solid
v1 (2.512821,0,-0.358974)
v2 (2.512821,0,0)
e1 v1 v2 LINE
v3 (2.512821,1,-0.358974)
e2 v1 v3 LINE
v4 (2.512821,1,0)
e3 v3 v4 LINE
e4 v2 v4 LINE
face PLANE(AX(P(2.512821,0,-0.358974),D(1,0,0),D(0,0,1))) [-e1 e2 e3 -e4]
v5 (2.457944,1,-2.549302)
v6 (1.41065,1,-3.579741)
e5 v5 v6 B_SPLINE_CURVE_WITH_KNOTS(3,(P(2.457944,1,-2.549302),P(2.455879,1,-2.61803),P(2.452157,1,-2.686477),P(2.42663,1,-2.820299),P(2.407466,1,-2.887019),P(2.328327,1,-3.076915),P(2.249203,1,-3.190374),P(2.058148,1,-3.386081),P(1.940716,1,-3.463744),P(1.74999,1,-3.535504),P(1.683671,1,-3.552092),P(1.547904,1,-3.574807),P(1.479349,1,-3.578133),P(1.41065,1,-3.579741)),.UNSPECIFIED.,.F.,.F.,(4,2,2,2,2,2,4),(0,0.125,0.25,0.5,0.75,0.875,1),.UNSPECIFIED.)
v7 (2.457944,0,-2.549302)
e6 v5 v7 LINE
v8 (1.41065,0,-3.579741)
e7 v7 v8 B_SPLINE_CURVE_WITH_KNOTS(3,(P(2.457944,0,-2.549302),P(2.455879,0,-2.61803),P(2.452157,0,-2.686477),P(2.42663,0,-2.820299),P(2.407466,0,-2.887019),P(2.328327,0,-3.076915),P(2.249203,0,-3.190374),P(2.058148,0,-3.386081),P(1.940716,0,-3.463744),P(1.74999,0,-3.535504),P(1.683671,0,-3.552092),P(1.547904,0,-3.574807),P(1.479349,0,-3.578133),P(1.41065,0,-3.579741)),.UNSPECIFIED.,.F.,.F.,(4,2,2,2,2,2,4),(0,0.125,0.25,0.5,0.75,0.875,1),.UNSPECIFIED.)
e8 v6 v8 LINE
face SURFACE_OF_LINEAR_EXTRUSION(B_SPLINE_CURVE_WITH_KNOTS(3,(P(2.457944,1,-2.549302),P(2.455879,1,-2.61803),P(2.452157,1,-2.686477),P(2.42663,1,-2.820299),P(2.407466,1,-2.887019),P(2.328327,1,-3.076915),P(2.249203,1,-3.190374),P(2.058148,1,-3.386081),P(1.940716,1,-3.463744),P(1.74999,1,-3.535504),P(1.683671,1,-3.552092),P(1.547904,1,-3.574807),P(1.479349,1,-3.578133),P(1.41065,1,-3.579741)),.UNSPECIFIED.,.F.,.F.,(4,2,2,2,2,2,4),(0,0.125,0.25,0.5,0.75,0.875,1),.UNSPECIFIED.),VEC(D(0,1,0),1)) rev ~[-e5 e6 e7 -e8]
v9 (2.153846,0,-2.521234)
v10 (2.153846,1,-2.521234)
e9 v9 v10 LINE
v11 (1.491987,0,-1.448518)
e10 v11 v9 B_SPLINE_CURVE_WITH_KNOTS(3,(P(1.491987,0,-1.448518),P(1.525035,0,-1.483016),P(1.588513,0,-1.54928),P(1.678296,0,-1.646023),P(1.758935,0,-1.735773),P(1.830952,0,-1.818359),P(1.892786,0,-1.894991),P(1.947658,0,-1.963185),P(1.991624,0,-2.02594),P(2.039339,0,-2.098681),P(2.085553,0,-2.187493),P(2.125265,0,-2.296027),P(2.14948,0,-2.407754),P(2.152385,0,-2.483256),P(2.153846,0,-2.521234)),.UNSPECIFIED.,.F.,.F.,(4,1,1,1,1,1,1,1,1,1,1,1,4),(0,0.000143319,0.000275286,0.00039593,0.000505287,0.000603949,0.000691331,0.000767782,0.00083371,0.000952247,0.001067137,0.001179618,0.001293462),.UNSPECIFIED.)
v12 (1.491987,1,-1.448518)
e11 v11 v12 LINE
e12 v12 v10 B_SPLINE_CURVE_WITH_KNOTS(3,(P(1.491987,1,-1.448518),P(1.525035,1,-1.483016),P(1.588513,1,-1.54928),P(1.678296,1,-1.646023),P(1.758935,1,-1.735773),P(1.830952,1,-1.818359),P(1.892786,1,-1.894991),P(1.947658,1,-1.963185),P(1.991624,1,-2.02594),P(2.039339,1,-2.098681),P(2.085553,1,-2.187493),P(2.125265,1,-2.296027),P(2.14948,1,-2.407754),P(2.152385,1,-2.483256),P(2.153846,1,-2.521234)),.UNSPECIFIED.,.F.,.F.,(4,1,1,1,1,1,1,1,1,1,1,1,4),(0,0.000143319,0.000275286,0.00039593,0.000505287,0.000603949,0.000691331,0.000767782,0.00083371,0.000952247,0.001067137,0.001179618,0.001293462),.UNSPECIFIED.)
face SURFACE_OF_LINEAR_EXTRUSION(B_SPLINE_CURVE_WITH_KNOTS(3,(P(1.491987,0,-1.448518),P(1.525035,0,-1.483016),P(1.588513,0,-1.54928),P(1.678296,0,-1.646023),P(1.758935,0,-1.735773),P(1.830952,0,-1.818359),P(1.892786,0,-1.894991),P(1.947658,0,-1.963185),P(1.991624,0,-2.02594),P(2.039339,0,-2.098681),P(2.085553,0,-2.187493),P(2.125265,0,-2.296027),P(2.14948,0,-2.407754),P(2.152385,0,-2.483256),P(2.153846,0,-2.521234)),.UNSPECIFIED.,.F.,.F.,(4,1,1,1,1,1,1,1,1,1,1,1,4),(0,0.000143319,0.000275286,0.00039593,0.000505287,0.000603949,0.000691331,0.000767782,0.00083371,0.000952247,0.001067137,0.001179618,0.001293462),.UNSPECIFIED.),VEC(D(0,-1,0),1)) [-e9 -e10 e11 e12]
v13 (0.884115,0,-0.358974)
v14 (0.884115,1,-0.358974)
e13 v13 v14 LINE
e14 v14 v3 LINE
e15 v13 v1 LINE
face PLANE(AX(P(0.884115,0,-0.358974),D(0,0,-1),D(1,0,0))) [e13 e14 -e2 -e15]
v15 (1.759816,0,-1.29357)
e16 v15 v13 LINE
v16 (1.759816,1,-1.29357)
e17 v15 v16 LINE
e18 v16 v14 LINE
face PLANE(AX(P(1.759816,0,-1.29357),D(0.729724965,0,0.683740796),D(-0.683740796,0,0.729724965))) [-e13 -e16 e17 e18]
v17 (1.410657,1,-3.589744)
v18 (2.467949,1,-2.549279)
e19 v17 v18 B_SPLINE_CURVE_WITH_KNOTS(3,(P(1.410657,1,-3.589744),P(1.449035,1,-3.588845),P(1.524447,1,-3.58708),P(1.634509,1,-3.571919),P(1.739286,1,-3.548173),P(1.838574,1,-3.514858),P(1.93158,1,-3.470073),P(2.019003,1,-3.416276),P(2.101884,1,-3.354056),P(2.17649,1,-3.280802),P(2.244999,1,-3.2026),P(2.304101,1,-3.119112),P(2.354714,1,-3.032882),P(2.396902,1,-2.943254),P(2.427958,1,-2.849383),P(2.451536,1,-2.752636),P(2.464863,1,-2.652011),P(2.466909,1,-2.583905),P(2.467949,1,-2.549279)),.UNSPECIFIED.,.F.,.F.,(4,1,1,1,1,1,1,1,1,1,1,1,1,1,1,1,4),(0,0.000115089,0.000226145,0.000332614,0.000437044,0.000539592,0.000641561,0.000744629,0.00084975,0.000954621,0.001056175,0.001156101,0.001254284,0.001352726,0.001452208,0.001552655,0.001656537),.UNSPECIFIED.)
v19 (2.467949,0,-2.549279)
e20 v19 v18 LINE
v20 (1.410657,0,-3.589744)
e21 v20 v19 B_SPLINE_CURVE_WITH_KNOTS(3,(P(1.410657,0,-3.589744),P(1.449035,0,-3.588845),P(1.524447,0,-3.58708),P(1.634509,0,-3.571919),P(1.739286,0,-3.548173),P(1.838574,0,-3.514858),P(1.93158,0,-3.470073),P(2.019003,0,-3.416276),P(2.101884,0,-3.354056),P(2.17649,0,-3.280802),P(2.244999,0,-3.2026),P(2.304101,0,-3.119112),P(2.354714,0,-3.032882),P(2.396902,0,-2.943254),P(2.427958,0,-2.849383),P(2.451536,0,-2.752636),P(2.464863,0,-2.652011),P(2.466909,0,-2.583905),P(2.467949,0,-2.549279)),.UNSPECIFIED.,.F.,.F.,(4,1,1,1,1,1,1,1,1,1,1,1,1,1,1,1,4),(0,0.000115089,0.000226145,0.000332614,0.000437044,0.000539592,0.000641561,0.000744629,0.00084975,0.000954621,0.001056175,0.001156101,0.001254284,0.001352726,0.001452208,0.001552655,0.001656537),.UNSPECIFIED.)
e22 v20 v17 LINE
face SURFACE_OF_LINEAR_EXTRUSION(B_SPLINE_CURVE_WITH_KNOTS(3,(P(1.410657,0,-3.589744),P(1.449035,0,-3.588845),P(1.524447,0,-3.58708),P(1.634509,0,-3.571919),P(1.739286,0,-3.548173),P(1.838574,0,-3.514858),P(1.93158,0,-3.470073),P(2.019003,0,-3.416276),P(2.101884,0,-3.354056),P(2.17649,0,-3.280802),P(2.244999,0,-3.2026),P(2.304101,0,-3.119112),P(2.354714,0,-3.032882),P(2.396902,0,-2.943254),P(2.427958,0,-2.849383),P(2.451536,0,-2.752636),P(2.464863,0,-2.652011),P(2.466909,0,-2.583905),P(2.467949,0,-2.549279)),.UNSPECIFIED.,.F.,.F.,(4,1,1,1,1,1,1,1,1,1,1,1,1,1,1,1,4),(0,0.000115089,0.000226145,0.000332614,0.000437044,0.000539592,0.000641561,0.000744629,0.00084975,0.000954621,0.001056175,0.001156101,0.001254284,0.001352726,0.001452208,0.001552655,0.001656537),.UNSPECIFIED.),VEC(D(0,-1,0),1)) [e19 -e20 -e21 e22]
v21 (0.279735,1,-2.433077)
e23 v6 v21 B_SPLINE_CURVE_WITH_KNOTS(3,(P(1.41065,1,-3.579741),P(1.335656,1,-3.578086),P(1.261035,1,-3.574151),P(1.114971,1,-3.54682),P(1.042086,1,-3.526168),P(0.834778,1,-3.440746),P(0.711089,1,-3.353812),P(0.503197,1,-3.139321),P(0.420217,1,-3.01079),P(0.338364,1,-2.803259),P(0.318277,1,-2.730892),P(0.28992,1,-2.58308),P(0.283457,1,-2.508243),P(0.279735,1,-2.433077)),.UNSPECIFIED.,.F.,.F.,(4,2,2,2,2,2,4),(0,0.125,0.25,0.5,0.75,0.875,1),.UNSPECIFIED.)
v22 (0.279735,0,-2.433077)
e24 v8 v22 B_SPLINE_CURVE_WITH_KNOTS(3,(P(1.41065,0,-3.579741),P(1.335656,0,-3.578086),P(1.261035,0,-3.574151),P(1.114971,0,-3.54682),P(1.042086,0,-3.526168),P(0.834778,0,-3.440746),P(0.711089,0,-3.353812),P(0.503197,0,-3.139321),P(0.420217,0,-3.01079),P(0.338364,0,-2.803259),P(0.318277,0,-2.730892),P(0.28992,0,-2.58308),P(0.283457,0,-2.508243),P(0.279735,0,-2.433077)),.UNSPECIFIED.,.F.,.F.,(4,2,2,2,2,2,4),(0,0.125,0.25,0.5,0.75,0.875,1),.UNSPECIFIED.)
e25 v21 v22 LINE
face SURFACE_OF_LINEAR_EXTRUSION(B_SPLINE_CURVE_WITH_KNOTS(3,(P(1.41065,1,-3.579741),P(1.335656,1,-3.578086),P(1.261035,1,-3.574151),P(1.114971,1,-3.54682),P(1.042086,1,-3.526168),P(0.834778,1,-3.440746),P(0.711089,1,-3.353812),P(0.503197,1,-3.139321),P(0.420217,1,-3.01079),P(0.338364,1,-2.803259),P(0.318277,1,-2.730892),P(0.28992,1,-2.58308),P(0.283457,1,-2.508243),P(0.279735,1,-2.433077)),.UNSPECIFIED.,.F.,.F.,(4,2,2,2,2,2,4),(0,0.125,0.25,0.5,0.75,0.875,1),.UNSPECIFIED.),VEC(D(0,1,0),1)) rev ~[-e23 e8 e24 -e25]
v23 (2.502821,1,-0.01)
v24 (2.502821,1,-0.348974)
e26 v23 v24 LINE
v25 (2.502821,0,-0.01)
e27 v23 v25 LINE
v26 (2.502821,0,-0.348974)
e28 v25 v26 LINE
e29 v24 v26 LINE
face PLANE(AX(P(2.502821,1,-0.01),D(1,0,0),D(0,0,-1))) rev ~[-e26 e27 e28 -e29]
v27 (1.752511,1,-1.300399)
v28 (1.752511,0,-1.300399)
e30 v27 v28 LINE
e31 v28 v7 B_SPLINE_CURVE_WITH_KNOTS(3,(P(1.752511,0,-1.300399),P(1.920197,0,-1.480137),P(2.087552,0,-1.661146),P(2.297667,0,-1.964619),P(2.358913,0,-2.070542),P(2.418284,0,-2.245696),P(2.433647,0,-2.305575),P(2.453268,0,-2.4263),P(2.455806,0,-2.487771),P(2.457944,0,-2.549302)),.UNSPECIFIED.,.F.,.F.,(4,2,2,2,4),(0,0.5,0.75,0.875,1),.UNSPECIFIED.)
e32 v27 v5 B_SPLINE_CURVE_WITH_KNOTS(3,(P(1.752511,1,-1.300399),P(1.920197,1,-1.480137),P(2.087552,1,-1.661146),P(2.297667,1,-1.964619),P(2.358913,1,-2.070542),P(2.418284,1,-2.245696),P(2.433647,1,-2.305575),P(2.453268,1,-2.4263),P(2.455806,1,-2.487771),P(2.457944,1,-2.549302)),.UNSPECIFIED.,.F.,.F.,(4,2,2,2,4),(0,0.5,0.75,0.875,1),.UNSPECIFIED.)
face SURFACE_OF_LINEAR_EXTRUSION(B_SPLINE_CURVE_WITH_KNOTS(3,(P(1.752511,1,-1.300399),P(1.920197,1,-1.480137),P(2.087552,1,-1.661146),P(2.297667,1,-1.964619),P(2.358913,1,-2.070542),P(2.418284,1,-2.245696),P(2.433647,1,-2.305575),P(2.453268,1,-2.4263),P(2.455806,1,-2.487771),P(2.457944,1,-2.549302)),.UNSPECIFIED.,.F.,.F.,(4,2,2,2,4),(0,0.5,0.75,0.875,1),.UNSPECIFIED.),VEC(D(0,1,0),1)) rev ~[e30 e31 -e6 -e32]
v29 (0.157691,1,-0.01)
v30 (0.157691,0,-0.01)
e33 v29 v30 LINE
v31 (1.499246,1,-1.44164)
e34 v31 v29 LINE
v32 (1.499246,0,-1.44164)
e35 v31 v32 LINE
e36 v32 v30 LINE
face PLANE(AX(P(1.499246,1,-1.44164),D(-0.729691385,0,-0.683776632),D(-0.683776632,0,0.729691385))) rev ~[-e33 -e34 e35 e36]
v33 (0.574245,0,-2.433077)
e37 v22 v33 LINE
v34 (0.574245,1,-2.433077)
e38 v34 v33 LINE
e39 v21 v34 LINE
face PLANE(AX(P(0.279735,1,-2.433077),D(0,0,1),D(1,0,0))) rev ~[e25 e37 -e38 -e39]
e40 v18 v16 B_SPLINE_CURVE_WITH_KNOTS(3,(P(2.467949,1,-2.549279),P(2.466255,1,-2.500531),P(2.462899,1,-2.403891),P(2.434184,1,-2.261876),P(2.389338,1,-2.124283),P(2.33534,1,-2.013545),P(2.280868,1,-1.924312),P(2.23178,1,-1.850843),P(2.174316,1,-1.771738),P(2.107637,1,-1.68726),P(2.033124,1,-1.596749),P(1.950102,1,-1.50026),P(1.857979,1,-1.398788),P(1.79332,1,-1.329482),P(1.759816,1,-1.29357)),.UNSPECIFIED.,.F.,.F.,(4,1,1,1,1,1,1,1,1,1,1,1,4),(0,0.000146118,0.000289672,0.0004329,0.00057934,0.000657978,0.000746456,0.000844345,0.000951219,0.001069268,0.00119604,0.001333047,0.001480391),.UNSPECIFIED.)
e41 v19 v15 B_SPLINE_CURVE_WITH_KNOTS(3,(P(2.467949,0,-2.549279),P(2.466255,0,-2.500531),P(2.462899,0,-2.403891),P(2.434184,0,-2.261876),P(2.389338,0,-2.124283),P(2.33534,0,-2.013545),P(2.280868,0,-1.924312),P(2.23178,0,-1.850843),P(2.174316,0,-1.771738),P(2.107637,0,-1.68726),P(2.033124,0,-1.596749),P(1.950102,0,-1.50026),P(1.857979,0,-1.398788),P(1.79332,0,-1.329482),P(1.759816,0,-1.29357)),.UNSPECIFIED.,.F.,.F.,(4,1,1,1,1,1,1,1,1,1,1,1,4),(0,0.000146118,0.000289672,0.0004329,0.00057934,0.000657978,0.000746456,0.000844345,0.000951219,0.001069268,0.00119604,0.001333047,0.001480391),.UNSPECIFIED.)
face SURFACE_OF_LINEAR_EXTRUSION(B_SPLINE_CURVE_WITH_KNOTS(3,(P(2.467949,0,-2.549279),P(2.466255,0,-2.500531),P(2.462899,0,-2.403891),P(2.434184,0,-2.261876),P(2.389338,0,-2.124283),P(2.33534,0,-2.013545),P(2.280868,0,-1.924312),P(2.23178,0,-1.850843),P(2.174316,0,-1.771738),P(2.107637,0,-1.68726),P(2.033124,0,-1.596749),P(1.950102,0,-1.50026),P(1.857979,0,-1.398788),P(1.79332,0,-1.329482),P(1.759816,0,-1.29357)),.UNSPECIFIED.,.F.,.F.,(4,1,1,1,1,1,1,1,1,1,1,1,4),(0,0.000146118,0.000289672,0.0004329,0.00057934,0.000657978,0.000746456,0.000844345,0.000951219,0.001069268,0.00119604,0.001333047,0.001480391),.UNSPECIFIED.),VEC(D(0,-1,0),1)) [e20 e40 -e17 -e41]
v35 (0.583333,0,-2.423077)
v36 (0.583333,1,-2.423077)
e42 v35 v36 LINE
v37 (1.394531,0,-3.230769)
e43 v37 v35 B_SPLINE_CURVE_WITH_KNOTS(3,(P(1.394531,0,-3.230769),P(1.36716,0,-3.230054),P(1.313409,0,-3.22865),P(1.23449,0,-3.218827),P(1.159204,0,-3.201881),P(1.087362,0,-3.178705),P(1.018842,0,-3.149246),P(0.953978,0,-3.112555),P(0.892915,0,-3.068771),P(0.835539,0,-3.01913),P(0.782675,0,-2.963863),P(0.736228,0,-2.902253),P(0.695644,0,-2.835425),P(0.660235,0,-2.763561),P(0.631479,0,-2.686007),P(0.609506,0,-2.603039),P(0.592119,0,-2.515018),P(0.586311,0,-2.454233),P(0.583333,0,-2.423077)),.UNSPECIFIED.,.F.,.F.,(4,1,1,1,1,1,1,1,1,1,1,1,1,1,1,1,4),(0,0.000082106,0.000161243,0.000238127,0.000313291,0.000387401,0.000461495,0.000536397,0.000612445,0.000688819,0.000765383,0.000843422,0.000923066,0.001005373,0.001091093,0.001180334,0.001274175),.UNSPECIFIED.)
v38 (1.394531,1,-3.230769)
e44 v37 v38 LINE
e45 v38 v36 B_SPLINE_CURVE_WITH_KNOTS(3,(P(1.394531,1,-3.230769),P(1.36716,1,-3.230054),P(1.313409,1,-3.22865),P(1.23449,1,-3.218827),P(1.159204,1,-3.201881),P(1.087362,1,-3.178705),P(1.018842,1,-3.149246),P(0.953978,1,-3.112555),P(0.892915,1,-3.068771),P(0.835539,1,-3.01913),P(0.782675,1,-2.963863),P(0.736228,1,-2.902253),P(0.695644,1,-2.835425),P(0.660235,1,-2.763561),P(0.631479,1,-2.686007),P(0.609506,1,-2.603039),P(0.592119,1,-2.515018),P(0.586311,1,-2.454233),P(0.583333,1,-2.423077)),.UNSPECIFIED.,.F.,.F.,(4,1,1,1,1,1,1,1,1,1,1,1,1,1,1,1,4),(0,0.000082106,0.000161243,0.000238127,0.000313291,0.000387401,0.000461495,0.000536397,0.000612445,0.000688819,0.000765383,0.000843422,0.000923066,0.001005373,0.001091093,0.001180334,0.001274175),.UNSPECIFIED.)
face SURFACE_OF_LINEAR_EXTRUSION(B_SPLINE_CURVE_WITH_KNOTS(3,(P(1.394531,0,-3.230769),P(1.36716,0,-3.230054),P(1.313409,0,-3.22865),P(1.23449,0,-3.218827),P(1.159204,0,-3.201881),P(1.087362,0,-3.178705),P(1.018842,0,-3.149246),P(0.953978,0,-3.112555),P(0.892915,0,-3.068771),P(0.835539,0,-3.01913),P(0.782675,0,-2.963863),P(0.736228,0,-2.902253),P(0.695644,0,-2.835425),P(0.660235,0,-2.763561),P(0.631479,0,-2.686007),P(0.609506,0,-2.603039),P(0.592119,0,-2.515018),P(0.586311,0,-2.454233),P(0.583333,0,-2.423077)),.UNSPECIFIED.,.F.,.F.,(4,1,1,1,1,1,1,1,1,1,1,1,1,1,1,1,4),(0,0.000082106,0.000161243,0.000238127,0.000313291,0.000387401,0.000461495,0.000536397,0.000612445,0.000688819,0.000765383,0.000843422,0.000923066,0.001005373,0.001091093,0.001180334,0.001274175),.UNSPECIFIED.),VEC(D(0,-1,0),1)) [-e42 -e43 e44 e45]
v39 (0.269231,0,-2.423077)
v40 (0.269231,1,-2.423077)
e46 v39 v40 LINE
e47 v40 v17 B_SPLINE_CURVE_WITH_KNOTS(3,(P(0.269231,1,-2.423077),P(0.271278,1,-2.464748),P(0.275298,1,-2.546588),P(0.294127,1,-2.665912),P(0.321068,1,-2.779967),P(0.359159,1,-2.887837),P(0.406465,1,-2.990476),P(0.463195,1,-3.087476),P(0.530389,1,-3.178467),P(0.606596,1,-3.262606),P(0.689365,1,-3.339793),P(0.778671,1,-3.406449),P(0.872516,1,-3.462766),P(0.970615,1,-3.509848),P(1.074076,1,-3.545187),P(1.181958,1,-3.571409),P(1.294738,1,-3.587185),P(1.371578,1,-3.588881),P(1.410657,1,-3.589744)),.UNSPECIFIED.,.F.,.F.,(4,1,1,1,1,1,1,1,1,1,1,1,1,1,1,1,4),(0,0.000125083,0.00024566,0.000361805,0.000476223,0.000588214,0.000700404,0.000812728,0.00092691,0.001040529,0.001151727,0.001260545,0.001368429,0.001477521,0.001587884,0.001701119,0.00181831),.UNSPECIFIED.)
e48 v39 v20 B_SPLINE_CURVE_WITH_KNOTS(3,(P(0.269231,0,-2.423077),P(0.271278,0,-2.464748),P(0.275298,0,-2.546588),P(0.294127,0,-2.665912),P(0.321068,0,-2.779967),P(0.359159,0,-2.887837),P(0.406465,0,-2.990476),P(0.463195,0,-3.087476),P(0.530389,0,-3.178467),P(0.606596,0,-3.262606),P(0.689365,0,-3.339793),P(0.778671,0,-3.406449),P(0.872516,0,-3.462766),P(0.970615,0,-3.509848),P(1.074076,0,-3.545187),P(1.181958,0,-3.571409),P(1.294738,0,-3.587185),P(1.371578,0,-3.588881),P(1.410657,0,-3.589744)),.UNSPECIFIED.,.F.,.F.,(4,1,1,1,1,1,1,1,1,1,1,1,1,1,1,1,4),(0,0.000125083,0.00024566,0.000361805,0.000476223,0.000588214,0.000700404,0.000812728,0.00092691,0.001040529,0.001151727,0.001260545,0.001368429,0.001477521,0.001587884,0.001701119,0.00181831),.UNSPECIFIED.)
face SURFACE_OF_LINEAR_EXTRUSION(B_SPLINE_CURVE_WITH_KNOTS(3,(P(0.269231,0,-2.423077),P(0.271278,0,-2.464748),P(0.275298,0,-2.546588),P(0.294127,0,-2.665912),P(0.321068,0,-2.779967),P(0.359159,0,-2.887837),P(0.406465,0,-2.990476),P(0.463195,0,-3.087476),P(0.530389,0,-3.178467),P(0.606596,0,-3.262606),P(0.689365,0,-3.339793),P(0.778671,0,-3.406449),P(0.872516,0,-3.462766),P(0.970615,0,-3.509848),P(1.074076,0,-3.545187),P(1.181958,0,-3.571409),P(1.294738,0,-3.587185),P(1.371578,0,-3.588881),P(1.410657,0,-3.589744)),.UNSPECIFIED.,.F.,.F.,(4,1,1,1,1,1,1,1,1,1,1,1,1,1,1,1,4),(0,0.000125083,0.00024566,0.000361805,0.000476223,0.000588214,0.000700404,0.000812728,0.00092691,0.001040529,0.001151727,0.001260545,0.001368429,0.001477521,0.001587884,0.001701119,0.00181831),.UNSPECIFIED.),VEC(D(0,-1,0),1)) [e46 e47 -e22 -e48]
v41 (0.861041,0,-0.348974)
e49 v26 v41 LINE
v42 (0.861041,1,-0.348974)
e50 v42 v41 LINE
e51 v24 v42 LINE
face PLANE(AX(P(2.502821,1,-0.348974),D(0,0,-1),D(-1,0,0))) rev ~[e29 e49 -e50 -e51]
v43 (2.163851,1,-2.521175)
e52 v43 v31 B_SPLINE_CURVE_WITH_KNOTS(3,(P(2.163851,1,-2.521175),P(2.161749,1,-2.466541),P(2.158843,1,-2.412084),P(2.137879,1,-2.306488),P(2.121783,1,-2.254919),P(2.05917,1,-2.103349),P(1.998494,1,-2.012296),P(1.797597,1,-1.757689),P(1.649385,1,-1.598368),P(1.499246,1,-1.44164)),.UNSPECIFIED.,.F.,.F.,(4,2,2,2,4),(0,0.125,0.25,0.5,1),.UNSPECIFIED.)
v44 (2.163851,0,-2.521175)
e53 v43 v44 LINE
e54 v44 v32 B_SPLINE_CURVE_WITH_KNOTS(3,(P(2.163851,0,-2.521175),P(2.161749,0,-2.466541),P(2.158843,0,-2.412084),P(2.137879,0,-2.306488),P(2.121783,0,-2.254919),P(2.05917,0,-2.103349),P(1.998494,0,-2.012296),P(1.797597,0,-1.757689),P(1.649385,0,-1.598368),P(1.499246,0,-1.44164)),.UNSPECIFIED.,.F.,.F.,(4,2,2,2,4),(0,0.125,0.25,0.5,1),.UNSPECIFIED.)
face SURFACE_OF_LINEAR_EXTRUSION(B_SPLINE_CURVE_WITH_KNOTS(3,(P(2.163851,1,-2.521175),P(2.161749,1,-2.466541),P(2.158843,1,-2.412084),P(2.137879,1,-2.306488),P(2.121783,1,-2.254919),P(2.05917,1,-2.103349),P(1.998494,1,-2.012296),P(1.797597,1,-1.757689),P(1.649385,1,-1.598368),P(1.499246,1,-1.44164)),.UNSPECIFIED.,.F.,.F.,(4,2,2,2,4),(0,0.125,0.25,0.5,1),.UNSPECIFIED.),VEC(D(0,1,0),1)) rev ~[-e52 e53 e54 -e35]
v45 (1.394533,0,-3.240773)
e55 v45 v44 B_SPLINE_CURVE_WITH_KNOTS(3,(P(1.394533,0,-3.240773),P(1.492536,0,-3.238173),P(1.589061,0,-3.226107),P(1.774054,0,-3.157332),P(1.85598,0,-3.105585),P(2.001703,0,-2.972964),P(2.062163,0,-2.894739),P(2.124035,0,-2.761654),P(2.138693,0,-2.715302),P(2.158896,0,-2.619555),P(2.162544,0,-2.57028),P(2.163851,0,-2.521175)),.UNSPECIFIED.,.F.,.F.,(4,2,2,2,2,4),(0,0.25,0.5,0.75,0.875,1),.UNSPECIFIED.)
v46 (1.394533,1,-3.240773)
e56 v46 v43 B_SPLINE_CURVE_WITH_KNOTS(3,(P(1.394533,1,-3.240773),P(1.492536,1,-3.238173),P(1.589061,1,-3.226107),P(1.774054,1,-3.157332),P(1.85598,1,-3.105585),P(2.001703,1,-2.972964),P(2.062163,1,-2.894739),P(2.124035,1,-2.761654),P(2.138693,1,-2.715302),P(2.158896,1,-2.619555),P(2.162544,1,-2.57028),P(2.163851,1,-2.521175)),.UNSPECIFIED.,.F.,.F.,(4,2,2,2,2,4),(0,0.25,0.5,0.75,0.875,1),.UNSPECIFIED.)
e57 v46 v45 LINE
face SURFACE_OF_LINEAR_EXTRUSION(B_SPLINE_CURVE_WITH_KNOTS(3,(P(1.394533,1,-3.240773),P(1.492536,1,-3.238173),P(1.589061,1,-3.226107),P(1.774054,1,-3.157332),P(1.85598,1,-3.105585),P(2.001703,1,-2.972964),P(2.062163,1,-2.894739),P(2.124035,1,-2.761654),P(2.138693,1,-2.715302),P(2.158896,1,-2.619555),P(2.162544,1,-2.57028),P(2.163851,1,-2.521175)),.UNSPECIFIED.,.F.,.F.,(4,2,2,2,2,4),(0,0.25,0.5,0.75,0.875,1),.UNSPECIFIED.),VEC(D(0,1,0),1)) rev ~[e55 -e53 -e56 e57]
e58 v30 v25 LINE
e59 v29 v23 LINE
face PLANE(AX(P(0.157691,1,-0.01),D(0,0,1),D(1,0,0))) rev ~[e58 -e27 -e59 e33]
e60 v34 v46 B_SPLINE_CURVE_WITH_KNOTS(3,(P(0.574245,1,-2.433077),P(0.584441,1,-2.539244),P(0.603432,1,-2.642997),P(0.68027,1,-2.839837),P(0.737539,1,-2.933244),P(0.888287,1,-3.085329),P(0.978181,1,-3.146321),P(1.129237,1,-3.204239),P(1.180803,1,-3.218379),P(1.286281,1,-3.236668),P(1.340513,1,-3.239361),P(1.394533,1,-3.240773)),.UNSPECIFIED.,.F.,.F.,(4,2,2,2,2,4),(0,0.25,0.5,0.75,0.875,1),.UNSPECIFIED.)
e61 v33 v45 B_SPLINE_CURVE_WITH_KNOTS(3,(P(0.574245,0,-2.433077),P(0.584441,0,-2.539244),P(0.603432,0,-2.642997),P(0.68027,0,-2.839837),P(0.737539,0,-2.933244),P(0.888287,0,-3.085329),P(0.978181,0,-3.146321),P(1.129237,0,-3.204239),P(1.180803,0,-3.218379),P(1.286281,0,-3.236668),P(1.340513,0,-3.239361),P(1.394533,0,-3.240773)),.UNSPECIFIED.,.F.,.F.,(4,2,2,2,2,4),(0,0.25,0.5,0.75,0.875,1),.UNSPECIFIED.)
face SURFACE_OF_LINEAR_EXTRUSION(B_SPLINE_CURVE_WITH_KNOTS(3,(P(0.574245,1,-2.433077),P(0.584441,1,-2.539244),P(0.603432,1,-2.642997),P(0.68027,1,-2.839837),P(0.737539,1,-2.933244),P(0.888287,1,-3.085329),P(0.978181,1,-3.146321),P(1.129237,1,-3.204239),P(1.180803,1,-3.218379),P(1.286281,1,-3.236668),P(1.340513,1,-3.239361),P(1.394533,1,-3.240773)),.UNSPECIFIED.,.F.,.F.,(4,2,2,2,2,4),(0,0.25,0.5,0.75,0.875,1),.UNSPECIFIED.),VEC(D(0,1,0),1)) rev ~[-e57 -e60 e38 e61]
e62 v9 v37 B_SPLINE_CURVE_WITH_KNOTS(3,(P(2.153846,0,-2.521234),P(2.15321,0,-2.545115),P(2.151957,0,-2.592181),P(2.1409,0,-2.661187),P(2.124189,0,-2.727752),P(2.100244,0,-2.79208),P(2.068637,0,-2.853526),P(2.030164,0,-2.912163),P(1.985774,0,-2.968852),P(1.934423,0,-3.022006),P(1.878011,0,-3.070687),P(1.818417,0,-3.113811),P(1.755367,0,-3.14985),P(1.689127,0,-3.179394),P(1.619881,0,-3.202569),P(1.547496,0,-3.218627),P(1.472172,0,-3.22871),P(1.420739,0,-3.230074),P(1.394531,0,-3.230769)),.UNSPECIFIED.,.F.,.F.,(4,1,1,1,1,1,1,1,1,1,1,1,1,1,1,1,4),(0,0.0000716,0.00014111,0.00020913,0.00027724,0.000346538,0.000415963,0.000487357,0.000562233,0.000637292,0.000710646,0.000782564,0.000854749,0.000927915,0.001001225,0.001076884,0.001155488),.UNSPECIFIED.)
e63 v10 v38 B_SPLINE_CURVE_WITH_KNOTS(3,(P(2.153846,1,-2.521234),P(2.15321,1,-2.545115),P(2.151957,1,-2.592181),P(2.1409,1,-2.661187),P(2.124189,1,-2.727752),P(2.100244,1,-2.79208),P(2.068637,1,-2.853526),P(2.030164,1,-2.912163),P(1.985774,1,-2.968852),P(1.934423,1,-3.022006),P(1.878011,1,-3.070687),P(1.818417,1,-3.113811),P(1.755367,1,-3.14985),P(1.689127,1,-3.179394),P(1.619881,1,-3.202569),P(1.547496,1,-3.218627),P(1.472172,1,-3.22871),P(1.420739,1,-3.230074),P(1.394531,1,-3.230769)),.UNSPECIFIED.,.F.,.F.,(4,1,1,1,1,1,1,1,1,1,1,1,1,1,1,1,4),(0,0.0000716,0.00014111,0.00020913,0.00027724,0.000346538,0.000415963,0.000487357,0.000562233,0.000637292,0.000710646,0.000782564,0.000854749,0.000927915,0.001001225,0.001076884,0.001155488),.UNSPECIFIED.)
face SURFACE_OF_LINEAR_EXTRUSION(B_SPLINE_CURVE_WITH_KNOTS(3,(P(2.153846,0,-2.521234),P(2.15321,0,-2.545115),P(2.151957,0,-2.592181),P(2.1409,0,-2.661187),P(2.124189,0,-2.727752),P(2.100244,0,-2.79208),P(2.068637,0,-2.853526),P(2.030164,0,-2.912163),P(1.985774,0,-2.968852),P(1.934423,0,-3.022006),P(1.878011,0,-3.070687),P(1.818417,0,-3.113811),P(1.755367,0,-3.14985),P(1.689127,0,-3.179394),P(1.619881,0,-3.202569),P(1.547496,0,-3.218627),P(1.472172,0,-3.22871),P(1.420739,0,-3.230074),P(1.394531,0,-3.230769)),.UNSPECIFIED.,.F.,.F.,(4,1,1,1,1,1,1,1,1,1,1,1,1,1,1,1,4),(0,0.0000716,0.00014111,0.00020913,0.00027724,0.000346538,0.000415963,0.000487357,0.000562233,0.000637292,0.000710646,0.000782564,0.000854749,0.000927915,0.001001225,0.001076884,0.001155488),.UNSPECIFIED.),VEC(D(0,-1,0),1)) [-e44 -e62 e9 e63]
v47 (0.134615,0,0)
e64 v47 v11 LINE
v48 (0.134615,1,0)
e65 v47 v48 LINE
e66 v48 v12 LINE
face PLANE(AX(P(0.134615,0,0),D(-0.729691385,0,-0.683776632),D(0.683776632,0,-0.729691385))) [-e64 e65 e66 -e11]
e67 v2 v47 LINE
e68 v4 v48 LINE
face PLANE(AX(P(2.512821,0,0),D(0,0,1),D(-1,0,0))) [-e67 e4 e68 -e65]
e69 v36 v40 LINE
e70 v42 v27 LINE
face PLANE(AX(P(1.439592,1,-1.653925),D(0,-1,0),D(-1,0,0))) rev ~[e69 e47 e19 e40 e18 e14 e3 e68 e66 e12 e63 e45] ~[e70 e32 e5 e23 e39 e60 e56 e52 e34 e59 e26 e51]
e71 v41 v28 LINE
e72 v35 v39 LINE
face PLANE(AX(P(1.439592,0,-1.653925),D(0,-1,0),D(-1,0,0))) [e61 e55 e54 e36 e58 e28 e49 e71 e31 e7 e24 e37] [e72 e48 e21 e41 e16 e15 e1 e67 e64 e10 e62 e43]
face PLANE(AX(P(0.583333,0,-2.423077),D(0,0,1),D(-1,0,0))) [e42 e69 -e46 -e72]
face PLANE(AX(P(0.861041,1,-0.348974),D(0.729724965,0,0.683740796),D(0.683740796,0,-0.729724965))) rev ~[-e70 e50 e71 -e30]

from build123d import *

# Parameters (mm, degrees)
BOSS_EXTRUDE1_DEPTH = 1
CUT_EXTRUDE1_DEPTH  = 1


with BuildPart() as part:
    # Sketch1 → Boss-Extrude1 (new body)
    with BuildSketch(Plane(origin=(0, 0, 0), x_dir=(1, 0, 0), z_dir=(0, 1, 0))):
        with BuildLine():
            Line((0.583333333, 2.423076923), (0.269230769, 2.423076923))
            add(Edge.make_bspline(
                [(0.269230769, 2.423076923), (0.271277922, 2.464747811), (0.275298476, 2.546588325), (0.294126766, 2.665912232), (0.321067643, 2.779967031), (0.359159097, 2.887836945), (0.406465375, 2.990475752), (0.463195402, 3.087475767), (0.530389252, 3.178466956), (0.606595986, 3.262605799), (0.689364626, 3.33979337), (0.778670565, 3.406448613), (0.872515592, 3.462766284), (0.970614991, 3.509847526), (1.074075555, 3.545187372), (1.181958413, 3.571409012), (1.294737549, 3.587185357), (1.371577571, 3.588881143), (1.410657051, 3.58974359)],
                knots=[0, 0, 0, 0, 0.000125083, 0.00024566, 0.000361805, 0.000476223, 0.000588214, 0.000700404, 0.000812728, 0.00092691, 0.001040529, 0.001151727, 0.001260545, 0.001368429, 0.001477521, 0.001587884, 0.001701119, 0.00181831, 0.00181831, 0.00181831, 0.00181831], degree=3))
            add(Edge.make_bspline(
                [(1.410657051, 3.58974359), (1.449035125, 3.588845133), (1.52444667, 3.587079698), (1.634508684, 3.571918669), (1.739285979, 3.548173078), (1.838573745, 3.514857661), (1.93157981, 3.470073234), (2.019002855, 3.416275695), (2.101883665, 3.354055864), (2.176490449, 3.28080205), (2.244998528, 3.202599666), (2.304100783, 3.119111762), (2.354713947, 3.032882477), (2.396901627, 2.943254275), (2.427957766, 2.849383247), (2.451535974, 2.752636044), (2.464863387, 2.652011233), (2.466908811, 2.583904677), (2.467948718, 2.549278846)],
                knots=[0, 0, 0, 0, 0.000115089, 0.000226145, 0.000332614, 0.000437044, 0.000539592, 0.000641561, 0.000744629, 0.00084975, 0.000954621, 0.001056175, 0.001156101, 0.001254284, 0.001352726, 0.001452208, 0.001552655, 0.001656537, 0.001656537, 0.001656537, 0.001656537], degree=3))
            add(Edge.make_bspline(
                [(2.467948718, 2.549278846), (2.466255455, 2.500531012), (2.462898644, 2.403890798), (2.434184267, 2.261875935), (2.389337756, 2.124282516), (2.335340399, 2.013545214), (2.280867955, 1.92431172), (2.231780448, 1.850843015), (2.174315637, 1.771737547), (2.107637139, 1.68726021), (2.033124266, 1.596749304), (1.950102103, 1.500259509), (1.857978621, 1.398787739), (1.79332012, 1.329482138), (1.759815705, 1.293569712)],
                knots=[0, 0, 0, 0, 0.000146118, 0.000289672, 0.0004329, 0.00057934, 0.000657978, 0.000746456, 0.000844345, 0.000951219, 0.001069268, 0.00119604, 0.001333047, 0.001480391, 0.001480391, 0.001480391, 0.001480391], degree=3))
            Line((1.759815705, 1.293569712), (0.884114583, 0.358974359))
            Line((0.884114583, 0.358974359), (2.512820513, 0.358974359))
            Line((2.512820513, 0.358974359), (2.512820513, 0))
            Line((2.512820513, 0), (0.134615385, 0))
            Line((0.134615385, 0), (1.491987179, 1.448517628))
            add(Edge.make_bspline(
                [(1.491987179, 1.448517628), (1.525035066, 1.483015935), (1.588513293, 1.549280121), (1.67829587, 1.646023081), (1.758934859, 1.735772622), (1.830952251, 1.818359171), (1.892785757, 1.894990738), (1.947657989, 1.963185442), (1.99162358, 2.025939892), (2.039338975, 2.098680506), (2.085552957, 2.187492823), (2.125265313, 2.296026513), (2.149480161, 2.407753765), (2.152384997, 2.483255802), (2.153846154, 2.521233974)],
                knots=[0, 0, 0, 0, 0.000143319, 0.000275286, 0.00039593, 0.000505287, 0.000603949, 0.000691331, 0.000767782, 0.00083371, 0.000952247, 0.001067137, 0.001179618, 0.001293462, 0.001293462, 0.001293462, 0.001293462], degree=3))
            add(Edge.make_bspline(
                [(2.153846154, 2.521233974), (2.153210412, 2.545115373), (2.151957486, 2.592181023), (2.140899788, 2.661186782), (2.124189282, 2.727751596), (2.100244024, 2.792080215), (2.068637284, 2.853525867), (2.030163904, 2.912163347), (1.98577384, 2.968852313), (1.934422571, 3.022005611), (1.878011051, 3.070686816), (1.818416802, 3.113810902), (1.755366698, 3.149850012), (1.689126575, 3.179393509), (1.619881106, 3.202568891), (1.547496361, 3.21862747), (1.472172345, 3.228709954), (1.420738849, 3.230074126), (1.39453125, 3.230769231)],
                knots=[0, 0, 0, 0, 7.16e-05, 0.00014111, 0.00020913, 0.00027724, 0.000346538, 0.000415963, 0.000487357, 0.000562233, 0.000637292, 0.000710646, 0.000782564, 0.000854749, 0.000927915, 0.001001225, 0.001076884, 0.001155488, 0.001155488, 0.001155488, 0.001155488], degree=3))
            add(Edge.make_bspline(
                [(1.39453125, 3.230769231), (1.367160417, 3.230054199), (1.313408621, 3.228649993), (1.234489588, 3.218827329), (1.159203811, 3.201881489), (1.087361908, 3.178704814), (1.018842322, 3.149246266), (0.953978278, 3.112554521), (0.892915389, 3.068771028), (0.835538865, 3.019130471), (0.782674886, 2.96386287), (0.73622801, 2.902252907), (0.695643996, 2.835425492), (0.660234763, 2.763560941), (0.631479073, 2.686007161), (0.609505922, 2.603039456), (0.592119075, 2.515018075), (0.586310555, 2.45423299), (0.583333333, 2.423076923)],
                knots=[0, 0, 0, 0, 8.2106e-05, 0.000161243, 0.000238127, 0.000313291, 0.000387401, 0.000461495, 0.000536397, 0.000612445, 0.000688819, 0.000765383, 0.000843422, 0.000923066, 0.001005373, 0.001091093, 0.001180334, 0.001274175, 0.001274175, 0.001274175, 0.001274175], degree=3))
        make_face()
    extrude(amount=BOSS_EXTRUDE1_DEPTH)

    # Sketch2 → Cut-Extrude1 (cut)
    with BuildSketch(Plane(origin=(0, 1, 0), x_dir=(1, 0, 0), z_dir=(0, 1, 0))):
        with BuildLine():
            Line((1.499246476, 1.441639719), (0.157690573, 0.01))
            Line((0.157690573, 0.01), (2.502820513, 0.01))
            Line((2.502820513, 0.01), (2.502820513, 0.348974359))
            Line((2.502820513, 0.348974359), (0.861040948, 0.348974359))
            Line((0.861040948, 0.348974359), (1.752511092, 1.300399261))
            add(Edge.make_bspline(
                [(1.752511092, 1.300399261), (1.92019697, 1.480136967), (2.08755232, 1.661145886), (2.29766678, 1.964618692), (2.358912798, 2.070542306), (2.418283834, 2.245696082), (2.433647153, 2.305574746), (2.453268483, 2.426300304), (2.455806173, 2.487770835), (2.457943503, 2.549302346)],
                knots=[0, 0, 0, 0, 0.5, 0.5, 0.75, 0.75, 0.875, 0.875, 1, 1, 1, 1], degree=3))
            add(Edge.make_bspline(
                [(2.457943503, 2.549302346), (2.45587938, 2.618030396), (2.452157445, 2.68647691), (2.426629989, 2.820298903), (2.407466354, 2.88701935), (2.328327085, 3.076914797), (2.249203133, 3.190374076), (2.058148257, 3.386080544), (1.940715683, 3.463743928), (1.749990318, 3.535503572), (1.683671267, 3.552091986), (1.547903939, 3.5748072), (1.479348909, 3.578132712), (1.410650345, 3.579741007)],
                knots=[0, 0, 0, 0, 0.125, 0.125, 0.25, 0.25, 0.5, 0.5, 0.75, 0.75, 0.875, 0.875, 1, 1, 1, 1], degree=3))
            add(Edge.make_bspline(
                [(1.410650345, 3.579741007), (1.335656181, 3.578085941), (1.26103452, 3.574151236), (1.114971351, 3.546819935), (1.042086496, 3.5261683), (0.834777755, 3.440746363), (0.711089291, 3.353811959), (0.503196625, 3.139320883), (0.420216614, 3.010789714), (0.338363948, 2.803258772), (0.318277011, 2.730892076), (0.289920356, 2.583079518), (0.283457144, 2.508243423), (0.279735446, 2.433076923)],
                knots=[0, 0, 0, 0, 0.125, 0.125, 0.25, 0.25, 0.5, 0.5, 0.75, 0.75, 0.875, 0.875, 1, 1, 1, 1], degree=3))
            Line((0.279735446, 2.433076923), (0.57424482, 2.433076923))
            add(Edge.make_bspline(
                [(0.57424482, 2.433076923), (0.584441228, 2.539244155), (0.603431985, 2.642997232), (0.680269679, 2.839836895), (0.737538652, 2.933244181), (0.888287052, 3.085329241), (0.978180718, 3.146320865), (1.129237022, 3.20423895), (1.180802744, 3.218378659), (1.286281018, 3.236667748), (1.340512639, 3.239361467), (1.394533245, 3.240772695)],
                knots=[0, 0, 0, 0, 0.25, 0.25, 0.5, 0.5, 0.75, 0.75, 0.875, 0.875, 1, 1, 1, 1], degree=3))
            add(Edge.make_bspline(
                [(1.394533245, 3.240772695), (1.492536389, 3.238173355), (1.589061274, 3.226106511), (1.774054233, 3.157331824), (1.855979536, 3.105584661), (2.001702907, 2.972963881), (2.062163372, 2.894739386), (2.124034516, 2.761654337), (2.138692808, 2.715301689), (2.158896392, 2.619554918), (2.162544042, 2.570280335), (2.163851273, 2.521174743)],
                knots=[0, 0, 0, 0, 0.25, 0.25, 0.5, 0.5, 0.75, 0.75, 0.875, 0.875, 1, 1, 1, 1], degree=3))
            add(Edge.make_bspline(
                [(2.163851273, 2.521174743), (2.161749334, 2.466541455), (2.158842644, 2.41208439), (2.137879239, 2.306487783), (2.121782923, 2.254918957), (2.059169767, 2.103349167), (1.998493532, 2.012295954), (1.797596813, 1.757688682), (1.649385086, 1.598367676), (1.499246476, 1.441639719)],
                knots=[0, 0, 0, 0, 0.125, 0.125, 0.25, 0.25, 0.5, 0.5, 1, 1, 1, 1], degree=3))
        make_face()
    extrude(amount=-CUT_EXTRUDE1_DEPTH, mode=Mode.SUBTRACT)


solid = part.part
